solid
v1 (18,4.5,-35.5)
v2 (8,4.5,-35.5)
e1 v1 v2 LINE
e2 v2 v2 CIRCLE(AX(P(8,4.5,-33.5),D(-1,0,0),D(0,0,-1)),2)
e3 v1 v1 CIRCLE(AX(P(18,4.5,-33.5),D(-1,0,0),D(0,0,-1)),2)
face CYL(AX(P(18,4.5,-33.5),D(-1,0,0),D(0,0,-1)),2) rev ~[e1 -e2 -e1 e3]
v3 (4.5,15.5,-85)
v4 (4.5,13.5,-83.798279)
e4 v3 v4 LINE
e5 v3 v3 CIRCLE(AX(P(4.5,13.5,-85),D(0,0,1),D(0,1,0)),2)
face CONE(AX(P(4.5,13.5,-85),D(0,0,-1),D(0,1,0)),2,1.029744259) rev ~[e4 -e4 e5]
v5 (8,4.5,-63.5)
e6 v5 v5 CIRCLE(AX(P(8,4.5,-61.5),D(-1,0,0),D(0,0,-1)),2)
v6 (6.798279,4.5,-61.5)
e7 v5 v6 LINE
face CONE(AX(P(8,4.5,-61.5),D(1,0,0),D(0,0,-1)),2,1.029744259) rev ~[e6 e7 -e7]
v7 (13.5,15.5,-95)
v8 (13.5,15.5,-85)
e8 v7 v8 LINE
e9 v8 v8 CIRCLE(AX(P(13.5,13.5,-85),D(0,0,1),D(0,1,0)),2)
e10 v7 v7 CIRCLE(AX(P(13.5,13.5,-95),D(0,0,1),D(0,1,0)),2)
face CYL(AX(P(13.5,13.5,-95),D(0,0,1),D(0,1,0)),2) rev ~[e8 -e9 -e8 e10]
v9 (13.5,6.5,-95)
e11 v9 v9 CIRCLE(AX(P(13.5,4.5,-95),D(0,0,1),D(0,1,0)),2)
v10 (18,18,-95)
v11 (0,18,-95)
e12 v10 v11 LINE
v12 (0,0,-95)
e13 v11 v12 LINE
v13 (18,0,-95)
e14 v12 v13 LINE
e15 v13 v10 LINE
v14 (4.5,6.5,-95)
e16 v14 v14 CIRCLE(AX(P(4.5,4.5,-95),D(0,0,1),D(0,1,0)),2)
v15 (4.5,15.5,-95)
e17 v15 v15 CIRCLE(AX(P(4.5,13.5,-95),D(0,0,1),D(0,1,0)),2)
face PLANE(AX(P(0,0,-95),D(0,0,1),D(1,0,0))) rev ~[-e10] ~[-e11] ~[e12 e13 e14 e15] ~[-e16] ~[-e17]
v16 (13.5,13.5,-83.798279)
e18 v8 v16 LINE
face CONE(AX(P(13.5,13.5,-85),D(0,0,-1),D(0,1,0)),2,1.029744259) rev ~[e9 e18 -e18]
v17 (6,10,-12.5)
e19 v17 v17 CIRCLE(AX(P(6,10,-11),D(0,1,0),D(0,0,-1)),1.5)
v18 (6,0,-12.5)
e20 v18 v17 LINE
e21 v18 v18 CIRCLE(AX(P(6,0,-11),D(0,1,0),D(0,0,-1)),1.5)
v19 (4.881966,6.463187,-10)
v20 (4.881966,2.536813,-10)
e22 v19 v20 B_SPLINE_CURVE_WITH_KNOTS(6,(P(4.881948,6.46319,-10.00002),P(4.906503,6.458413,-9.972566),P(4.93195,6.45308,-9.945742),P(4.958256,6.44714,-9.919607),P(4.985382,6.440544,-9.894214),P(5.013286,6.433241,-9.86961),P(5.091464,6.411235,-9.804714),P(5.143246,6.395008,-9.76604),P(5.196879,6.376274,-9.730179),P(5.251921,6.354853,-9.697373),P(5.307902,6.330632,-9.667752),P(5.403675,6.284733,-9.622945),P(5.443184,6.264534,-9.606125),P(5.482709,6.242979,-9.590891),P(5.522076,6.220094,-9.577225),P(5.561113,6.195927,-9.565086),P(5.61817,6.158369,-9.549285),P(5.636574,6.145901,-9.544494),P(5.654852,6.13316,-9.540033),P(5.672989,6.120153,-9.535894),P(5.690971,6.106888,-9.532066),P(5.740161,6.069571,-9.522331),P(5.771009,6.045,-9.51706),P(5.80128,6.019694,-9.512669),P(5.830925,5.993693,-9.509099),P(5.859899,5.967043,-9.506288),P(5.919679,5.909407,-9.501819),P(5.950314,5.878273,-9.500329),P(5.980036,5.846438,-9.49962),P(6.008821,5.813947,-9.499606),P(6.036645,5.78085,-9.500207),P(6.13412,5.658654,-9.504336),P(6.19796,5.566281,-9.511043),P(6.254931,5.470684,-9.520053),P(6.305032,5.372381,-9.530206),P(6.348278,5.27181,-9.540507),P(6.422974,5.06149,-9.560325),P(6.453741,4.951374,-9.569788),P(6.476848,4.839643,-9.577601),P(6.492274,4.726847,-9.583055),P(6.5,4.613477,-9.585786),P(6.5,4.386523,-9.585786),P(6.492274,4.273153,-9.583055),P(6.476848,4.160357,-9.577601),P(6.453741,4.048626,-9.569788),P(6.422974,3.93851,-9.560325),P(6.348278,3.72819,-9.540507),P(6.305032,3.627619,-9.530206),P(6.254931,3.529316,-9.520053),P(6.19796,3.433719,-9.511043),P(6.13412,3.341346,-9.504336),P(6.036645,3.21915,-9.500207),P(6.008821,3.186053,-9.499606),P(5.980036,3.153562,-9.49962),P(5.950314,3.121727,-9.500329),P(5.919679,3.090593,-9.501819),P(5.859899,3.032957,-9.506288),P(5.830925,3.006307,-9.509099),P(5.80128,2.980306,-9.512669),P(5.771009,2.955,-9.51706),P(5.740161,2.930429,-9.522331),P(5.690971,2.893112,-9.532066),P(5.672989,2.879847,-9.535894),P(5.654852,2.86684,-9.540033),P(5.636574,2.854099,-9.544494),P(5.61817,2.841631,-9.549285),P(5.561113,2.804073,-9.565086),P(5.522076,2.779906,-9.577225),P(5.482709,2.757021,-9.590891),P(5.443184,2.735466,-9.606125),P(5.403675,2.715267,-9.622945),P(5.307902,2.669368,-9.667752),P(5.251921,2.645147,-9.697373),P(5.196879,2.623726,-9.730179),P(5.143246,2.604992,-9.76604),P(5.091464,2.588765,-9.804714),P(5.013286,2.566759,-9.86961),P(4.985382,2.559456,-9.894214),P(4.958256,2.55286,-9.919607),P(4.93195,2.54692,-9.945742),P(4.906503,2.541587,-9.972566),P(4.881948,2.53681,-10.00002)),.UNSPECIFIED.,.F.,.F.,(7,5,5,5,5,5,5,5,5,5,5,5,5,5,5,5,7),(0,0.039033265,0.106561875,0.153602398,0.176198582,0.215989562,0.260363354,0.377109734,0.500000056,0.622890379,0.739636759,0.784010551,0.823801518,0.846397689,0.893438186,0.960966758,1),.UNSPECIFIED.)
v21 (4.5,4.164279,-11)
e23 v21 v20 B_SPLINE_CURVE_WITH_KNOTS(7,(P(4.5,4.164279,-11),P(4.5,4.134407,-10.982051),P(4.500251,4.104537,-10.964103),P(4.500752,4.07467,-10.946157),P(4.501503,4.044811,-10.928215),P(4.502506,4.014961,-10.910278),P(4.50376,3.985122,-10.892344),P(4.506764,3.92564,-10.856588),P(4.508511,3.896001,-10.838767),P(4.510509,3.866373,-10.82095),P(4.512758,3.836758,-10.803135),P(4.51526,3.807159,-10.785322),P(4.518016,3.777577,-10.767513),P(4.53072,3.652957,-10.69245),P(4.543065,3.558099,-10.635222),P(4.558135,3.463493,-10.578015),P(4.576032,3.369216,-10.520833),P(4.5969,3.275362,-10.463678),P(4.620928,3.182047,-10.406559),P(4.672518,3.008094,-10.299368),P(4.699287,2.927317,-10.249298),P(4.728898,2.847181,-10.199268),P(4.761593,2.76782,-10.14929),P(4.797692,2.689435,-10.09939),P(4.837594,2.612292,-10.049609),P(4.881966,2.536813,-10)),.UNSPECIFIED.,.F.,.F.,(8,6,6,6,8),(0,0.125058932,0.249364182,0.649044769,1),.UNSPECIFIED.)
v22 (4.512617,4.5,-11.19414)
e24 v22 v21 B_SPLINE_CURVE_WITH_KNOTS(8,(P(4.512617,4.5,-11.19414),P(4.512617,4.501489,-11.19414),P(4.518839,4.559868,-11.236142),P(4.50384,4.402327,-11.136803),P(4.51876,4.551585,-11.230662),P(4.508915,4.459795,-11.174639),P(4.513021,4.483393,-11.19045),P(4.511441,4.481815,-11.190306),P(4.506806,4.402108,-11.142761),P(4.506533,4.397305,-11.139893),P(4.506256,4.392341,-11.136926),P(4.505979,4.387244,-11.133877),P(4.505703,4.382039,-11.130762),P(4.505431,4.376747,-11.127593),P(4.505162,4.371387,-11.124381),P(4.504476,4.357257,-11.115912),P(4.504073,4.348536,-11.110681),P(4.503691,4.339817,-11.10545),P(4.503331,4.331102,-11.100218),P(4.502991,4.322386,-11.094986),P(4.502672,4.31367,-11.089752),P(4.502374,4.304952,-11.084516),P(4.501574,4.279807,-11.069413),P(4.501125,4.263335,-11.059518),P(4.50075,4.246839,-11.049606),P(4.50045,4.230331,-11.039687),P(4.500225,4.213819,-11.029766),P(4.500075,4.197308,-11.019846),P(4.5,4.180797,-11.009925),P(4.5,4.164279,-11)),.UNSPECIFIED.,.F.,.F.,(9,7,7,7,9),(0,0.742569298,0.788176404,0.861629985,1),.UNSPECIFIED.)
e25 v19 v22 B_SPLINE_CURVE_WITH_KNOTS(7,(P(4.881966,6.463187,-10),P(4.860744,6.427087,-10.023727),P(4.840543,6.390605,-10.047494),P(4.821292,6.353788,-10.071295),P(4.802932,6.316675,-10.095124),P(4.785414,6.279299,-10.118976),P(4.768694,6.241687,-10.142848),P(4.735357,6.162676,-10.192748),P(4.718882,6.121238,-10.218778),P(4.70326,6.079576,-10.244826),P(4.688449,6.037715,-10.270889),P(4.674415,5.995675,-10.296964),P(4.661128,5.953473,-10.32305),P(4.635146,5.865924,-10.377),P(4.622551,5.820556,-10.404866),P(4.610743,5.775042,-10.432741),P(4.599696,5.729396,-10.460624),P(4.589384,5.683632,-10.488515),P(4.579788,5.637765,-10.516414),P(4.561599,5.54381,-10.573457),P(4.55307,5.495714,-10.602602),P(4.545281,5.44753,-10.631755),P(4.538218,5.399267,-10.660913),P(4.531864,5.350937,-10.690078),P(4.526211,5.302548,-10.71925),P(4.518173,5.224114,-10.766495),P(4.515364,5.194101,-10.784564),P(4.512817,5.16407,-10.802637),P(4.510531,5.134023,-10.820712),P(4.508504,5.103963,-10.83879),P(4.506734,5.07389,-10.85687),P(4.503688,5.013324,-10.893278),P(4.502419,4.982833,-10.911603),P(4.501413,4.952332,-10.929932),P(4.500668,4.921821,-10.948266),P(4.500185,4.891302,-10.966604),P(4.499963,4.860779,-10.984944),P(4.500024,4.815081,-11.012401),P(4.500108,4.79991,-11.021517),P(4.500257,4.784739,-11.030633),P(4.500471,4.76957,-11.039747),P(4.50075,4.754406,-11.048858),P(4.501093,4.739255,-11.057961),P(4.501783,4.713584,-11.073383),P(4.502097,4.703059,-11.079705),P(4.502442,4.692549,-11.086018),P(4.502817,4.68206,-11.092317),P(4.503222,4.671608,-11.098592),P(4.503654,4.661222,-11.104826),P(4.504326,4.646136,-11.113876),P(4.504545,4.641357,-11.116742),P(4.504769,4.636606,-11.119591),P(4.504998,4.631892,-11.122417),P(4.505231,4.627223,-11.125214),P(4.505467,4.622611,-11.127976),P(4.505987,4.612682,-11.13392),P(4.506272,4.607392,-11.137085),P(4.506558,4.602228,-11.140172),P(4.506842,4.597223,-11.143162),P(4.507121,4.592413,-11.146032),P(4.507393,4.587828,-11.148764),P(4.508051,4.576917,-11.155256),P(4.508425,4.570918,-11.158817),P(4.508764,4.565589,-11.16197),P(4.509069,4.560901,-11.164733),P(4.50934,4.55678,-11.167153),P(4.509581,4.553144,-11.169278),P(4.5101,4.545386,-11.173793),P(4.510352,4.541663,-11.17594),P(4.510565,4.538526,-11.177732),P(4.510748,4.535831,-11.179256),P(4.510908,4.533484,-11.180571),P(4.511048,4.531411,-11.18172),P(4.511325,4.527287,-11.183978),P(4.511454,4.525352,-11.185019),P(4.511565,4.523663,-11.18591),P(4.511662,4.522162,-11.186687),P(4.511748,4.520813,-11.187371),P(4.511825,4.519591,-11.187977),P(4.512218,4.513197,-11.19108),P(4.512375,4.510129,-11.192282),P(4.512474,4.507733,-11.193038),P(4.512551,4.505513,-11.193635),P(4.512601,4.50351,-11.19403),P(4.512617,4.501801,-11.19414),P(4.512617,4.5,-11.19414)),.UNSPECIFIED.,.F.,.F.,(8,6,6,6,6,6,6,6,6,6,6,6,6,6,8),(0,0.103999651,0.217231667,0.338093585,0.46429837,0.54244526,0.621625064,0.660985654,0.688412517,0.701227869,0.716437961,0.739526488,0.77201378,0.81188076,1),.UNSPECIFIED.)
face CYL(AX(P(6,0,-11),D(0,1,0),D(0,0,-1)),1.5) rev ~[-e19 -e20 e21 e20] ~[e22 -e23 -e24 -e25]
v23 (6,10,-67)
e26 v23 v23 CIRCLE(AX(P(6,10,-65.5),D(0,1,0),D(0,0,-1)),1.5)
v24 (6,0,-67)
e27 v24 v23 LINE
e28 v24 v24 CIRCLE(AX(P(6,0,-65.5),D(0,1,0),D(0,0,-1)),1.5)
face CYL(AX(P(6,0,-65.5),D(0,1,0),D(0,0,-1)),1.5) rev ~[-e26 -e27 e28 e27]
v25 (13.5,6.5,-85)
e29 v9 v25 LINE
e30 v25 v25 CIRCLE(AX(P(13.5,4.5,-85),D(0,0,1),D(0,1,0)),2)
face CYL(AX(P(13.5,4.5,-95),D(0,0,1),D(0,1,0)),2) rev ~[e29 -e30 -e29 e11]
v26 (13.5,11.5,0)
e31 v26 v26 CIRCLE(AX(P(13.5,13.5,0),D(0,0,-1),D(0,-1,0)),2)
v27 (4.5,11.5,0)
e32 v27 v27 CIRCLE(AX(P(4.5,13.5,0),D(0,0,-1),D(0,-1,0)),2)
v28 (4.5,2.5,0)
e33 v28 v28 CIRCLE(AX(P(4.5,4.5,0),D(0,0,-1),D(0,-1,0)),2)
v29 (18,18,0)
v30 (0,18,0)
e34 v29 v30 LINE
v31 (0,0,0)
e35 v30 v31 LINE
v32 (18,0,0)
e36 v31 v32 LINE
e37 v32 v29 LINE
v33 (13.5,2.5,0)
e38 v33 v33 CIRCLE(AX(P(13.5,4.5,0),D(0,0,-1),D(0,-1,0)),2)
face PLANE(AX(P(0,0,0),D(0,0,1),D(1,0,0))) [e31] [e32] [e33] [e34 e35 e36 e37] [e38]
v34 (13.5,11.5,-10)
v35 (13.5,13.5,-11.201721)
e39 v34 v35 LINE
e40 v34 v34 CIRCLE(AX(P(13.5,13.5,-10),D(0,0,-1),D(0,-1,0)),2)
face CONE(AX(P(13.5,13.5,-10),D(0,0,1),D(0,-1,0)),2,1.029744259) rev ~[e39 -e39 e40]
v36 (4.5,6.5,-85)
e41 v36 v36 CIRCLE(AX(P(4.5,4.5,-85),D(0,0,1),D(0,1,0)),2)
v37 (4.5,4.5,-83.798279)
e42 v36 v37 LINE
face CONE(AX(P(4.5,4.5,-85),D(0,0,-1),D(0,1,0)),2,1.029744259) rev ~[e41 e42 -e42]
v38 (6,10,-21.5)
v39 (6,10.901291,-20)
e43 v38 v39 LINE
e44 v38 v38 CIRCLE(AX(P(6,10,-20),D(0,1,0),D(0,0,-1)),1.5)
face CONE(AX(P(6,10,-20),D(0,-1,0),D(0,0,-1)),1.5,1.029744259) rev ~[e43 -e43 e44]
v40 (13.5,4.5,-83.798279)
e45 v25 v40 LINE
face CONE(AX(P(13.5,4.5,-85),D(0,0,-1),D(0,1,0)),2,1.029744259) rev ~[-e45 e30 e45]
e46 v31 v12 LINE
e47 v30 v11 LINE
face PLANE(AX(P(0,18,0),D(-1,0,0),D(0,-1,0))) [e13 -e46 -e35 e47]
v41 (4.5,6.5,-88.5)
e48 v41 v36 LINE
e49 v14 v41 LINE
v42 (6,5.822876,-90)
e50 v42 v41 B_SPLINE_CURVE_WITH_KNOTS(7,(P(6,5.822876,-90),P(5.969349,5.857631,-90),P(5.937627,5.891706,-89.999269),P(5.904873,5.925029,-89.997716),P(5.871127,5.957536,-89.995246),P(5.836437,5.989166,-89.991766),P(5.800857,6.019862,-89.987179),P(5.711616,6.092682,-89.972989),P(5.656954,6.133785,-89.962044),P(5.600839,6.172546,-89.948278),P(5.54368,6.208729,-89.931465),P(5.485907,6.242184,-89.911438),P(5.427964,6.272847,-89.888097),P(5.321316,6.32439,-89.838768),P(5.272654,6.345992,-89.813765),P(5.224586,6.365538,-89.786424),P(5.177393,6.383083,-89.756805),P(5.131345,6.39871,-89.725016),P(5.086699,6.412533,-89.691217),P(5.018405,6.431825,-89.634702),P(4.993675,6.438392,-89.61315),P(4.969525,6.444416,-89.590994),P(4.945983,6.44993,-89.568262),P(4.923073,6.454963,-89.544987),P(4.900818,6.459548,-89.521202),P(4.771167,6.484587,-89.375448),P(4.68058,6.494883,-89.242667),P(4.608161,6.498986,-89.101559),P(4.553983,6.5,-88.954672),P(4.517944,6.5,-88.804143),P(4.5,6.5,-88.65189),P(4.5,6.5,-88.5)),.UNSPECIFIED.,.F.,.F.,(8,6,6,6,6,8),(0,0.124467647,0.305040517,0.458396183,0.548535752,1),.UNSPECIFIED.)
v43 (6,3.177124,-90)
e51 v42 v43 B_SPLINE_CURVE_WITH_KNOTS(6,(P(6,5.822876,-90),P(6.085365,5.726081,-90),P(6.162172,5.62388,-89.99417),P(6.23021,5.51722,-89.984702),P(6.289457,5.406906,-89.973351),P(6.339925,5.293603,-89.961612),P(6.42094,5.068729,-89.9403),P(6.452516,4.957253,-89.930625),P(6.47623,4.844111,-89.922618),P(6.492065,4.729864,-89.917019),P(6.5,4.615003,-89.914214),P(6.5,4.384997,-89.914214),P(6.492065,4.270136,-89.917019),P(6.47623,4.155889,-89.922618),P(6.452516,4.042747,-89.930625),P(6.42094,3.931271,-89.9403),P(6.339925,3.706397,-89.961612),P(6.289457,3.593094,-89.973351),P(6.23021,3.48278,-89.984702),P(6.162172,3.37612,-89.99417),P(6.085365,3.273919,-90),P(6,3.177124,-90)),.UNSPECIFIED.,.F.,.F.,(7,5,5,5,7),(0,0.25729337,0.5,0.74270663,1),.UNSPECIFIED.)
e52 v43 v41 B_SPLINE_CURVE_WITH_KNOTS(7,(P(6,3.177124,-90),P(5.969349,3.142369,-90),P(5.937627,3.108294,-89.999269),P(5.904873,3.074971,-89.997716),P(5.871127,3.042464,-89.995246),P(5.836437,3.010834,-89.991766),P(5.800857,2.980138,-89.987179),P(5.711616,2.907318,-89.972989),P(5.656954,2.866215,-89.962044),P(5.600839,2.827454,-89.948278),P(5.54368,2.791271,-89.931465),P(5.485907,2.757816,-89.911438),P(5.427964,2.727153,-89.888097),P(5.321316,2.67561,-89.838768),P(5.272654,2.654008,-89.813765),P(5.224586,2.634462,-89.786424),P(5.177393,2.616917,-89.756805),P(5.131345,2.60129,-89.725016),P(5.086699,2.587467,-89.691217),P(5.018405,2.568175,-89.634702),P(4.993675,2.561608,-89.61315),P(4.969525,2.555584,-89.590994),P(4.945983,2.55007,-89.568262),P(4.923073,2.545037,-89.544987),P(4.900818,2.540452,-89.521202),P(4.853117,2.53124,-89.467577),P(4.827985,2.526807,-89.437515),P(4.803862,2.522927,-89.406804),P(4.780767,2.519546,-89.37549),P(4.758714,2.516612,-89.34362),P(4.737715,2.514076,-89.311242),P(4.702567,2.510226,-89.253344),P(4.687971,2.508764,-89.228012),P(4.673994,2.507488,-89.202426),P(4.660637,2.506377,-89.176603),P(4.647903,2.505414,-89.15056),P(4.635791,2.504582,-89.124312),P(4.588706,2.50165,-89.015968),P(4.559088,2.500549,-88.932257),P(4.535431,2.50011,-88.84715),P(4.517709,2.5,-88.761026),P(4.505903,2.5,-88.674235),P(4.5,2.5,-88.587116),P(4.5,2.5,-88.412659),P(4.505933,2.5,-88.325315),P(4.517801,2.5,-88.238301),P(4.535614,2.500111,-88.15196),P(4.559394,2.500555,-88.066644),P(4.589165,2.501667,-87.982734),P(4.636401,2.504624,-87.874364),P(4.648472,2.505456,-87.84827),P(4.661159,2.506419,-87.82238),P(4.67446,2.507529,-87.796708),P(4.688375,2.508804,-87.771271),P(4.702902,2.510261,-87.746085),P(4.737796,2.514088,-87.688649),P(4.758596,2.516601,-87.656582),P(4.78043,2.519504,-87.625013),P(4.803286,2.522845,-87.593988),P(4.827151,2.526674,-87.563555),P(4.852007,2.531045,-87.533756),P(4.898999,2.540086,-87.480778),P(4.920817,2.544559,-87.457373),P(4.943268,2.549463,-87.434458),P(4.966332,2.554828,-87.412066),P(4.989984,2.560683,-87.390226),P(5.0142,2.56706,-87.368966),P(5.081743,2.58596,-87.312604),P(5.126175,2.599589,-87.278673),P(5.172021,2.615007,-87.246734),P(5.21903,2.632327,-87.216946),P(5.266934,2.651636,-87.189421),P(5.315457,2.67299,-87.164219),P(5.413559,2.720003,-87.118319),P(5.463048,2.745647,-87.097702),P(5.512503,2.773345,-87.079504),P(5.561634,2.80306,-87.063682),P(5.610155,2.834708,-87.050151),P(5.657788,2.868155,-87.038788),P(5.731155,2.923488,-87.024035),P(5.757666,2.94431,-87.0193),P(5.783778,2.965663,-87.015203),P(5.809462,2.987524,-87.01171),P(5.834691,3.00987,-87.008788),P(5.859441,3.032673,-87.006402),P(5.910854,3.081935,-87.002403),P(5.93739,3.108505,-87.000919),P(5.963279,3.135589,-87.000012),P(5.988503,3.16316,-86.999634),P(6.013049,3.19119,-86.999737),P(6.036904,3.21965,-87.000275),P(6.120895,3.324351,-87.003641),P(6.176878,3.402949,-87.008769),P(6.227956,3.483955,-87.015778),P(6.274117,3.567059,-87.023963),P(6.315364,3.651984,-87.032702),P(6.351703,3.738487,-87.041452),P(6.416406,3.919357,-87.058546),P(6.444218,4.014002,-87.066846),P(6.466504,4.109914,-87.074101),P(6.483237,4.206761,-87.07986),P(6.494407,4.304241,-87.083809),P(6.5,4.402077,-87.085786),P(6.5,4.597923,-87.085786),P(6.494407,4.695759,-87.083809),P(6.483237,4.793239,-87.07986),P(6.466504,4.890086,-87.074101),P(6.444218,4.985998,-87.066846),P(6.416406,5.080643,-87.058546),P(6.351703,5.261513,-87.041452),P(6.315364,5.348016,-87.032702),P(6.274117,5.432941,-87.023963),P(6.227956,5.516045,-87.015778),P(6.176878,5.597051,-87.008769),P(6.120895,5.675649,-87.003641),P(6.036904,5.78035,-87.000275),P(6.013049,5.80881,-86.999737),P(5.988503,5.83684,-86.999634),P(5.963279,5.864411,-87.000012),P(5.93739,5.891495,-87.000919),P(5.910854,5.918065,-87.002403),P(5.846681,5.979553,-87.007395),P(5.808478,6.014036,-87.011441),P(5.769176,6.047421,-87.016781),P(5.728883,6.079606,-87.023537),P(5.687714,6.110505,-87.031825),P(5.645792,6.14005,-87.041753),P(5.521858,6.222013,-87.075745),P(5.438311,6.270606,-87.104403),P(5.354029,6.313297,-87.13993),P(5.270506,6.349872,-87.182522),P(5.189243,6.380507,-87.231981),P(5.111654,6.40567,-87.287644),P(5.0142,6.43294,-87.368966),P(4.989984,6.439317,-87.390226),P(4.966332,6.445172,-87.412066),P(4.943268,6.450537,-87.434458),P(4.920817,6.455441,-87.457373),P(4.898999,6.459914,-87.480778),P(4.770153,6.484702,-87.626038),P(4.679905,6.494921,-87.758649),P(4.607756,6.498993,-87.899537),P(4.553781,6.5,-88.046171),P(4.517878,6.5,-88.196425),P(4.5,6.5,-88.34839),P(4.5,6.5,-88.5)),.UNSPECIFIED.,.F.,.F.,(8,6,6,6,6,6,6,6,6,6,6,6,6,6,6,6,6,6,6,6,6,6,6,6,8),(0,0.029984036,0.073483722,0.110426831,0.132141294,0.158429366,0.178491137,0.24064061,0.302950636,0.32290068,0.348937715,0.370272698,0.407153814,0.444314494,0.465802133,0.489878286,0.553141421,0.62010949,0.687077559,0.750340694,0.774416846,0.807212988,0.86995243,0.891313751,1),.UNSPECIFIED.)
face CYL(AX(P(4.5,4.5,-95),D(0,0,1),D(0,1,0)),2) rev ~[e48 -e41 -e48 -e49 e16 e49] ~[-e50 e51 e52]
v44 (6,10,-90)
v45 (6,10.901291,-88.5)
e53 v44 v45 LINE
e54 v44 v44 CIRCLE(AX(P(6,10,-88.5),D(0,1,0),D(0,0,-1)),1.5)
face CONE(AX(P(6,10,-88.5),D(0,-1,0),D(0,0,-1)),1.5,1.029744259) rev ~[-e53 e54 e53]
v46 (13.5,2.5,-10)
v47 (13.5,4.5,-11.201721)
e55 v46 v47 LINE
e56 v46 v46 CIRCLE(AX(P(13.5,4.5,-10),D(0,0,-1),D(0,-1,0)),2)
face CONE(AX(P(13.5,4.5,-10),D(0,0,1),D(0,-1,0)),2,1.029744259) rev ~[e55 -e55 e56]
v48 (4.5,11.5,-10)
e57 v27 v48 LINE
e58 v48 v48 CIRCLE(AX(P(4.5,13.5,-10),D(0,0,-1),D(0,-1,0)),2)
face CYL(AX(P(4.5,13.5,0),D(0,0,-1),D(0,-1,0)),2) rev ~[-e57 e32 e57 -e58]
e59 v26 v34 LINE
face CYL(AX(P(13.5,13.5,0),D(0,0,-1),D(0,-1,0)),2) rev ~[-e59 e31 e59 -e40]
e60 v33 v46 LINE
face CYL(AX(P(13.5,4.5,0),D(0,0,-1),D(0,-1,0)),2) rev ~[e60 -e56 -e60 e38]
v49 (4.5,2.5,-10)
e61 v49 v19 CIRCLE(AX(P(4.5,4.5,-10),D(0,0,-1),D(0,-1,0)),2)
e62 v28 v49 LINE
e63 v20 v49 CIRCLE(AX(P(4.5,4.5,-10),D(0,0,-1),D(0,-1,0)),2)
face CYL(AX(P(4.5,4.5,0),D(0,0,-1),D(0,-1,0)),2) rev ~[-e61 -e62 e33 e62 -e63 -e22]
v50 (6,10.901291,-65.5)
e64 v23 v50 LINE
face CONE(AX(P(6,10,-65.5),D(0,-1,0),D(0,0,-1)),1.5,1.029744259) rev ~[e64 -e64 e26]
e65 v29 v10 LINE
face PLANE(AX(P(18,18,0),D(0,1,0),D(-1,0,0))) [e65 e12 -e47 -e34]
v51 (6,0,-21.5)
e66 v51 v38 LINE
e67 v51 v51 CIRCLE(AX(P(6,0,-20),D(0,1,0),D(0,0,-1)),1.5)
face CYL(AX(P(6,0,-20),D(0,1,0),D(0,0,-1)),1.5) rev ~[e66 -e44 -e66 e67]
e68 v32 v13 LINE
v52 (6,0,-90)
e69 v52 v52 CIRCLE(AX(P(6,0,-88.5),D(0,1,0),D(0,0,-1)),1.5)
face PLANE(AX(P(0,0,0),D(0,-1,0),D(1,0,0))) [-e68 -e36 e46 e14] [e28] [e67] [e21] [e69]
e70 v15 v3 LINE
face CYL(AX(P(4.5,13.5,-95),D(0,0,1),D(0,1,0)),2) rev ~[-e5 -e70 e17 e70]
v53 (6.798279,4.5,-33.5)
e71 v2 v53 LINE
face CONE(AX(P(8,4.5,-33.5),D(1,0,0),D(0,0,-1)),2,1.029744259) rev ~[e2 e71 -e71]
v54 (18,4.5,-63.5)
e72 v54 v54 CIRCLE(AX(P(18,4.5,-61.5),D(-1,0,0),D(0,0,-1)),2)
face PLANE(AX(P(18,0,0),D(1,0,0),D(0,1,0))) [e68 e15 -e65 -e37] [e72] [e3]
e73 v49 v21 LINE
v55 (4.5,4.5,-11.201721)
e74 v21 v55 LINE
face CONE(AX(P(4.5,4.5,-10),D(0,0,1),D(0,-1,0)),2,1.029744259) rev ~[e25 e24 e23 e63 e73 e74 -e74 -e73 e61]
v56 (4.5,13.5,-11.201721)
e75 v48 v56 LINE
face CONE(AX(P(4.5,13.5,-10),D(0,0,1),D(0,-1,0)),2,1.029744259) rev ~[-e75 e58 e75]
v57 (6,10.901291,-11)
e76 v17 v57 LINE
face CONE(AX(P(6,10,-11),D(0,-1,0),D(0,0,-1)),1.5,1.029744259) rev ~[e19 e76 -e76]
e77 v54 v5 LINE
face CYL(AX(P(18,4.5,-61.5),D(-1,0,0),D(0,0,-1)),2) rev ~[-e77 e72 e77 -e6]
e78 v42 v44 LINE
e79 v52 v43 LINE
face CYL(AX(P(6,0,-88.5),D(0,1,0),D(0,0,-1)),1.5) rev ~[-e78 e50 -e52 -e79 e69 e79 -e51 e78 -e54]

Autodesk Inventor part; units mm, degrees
ref_plane "YZ Plane" through (0, 0, 0) normal (1, 0, 0) x (0, 1, 0)
ref_plane "XZ Plane" through (0, 0, 0) normal (0, 1, 0) x (-1, 0, 0)
ref_plane "XY Plane" through (0, 0, 0) normal (0, 0, 1) x (1, 0, 0)
sketch "Sketch1" plane through (0, 0, 0) normal (0, 0, 1) x (1, 0, 0)
  line L0 (0, 0) -> (18, 0)
  line L1 (18, 0) -> (18, 18)
  line L2 (18, 18) -> (0, 18)
  line L3 (0, 18) -> (0, 0)
  line L4 (13.5, 4.5) -> (4.5, 4.5) construction
  line L5 (4.5, 4.5) -> (4.5, 13.5) construction
  line L6 (4.5, 13.5) -> (13.5, 13.5) construction
  line L7 (13.5, 13.5) -> (13.5, 4.5) construction
  line L8 (13.5, 4.5) -> (4.5, 13.5) construction
  line L9 (4.5, 4.5) -> (13.5, 13.5) construction
  circle A0 centre (4.5, 13.5) radius 2
  circle A1 centre (13.5, 13.5) radius 2
  circle A2 centre (4.5, 4.5) radius 2
  circle A3 centre (13.5, 4.5) radius 2
  point P0 (9, 9)
  dimension "d0" = 18
  dimension "d1" = 18
  dimension "d2" = 4
  dimension "d3" = 4
  dimension "d5" = 4
  dimension "d6" = 4
  dimension "d7" = 4.5
  dimension "d8" = 9
  dimension "d9" = 9
  dimension "d10" = 4.5
extrude "Extrusion1" add sketch "Sketch1" against normal blind 95 contours L3 L2 L1 L0 | A0 | A1 | A2 | A3
hole "Hole1" at (4.5, 13.5, 0) at (4.5, 4.5, 0) at (13.5, 13.5, 0) at (13.5, 4.5, 0) direction (0, 0, -1) diameter 4 depth 10 tip angle 118
sketch "Sketch2" plane through (18, 0, 0) normal (1, 0, 0) x (0, 0, -1)
  circle A0 centre (33.5, 4.5) radius 2
  circle A1 centre (61.5, 4.5) radius 2
  line L0 (0, 0) -> (0, 18) projected
  line L1 (95, 18) -> (95, 0) projected
  line L2 (0, 0) -> (95, 0) projected
  dimension "d20" = 4
  dimension "d21" = 4
  dimension "d22" = 33.5
  dimension "d23" = 28
  dimension "d24" = 33.5
  dimension "d25" = 4.5
hole "Hole2" at (18, 4.5, -33.5) at (18, 4.5, -61.5) direction (-1, 0, 0) diameter 4 depth 10 tip angle 118
sketch "Sketch3" plane through (0, 0, 0) normal (0, -1, 0) x (1, 0, 0)
  circle A0 centre (6, -11) radius 1.5
  circle A1 centre (6, -20) radius 1.5
  circle A2 centre (6, -65.5) radius 1.5
  circle A3 centre (6, -88.5) radius 1.5
  line L0 (0, 0) -> (18, 0) projected
  line L1 (0, 0) -> (0, -95) projected
  dimension "d33" = 3
  dimension "d34" = 3
  dimension "d35" = 3
  dimension "d36" = 3
  dimension "d37" = 11
  dimension "d38" = 9
  dimension "d39" = 6
  dimension "d40" = 6
  dimension "d41" = 45.5
  dimension "d42" = 6
  dimension "d43" = 23
  dimension "d44" = 6
hole "Hole3" at (6, 0, -11) at (6, 0, -20) at (6, 0, -65.5) at (6, 0, -88.5) direction (0, 1, 0) diameter 3 depth 10 tip angle 118
sketch "Sketch4" plane through (0, 0, -95) normal (0, 0, -1) x (-1, 0, 0)
  line L0 (-4.5, 4.5) -> (-13.5, 4.5) construction
  line L1 (-13.5, 4.5) -> (-13.5, 13.5) construction
  line L2 (-13.5, 13.5) -> (-4.5, 13.5) construction
  line L3 (-4.5, 13.5) -> (-4.5, 4.5) construction
  line L4 (-4.5, 4.5) -> (-13.5, 13.5) construction
  line L5 (-13.5, 4.5) -> (-4.5, 13.5) construction
  circle A0 centre (-4.5, 13.5) radius 2
  circle A1 centre (-13.5, 13.5) radius 2
  circle A2 centre (-4.5, 4.5) radius 2
  line L6 (-18, 18) -> (-18, 0) projected
  line L7 (0, 18) -> (-18, 18) projected
  line L8 (-18, 0) -> (0, 0) projected
  circle A3 centre (-13.5, 4.5) radius 2
  point P0 (-9, 9)
  dimension "d52" = 4
  dimension "d53" = 4
  dimension "d55" = 4
  dimension "d56" = 9
  dimension "d57" = 4.5
  dimension "d58" = 4.5
  dimension "d59" = 9
  dimension "d61" = 4.5
  dimension "d62" = 9
  dimension "d63" = 4
hole "Hole4" at (13.5, 13.5, -95) at (13.5, 4.5, -95) at (4.5, 13.5, -95) at (4.5, 4.5, -95) direction (0, 0, 1) diameter 4 depth 10 tip angle 118
properties part number "HUDSON 1-02-REAR DRAWBAR BEAM"
